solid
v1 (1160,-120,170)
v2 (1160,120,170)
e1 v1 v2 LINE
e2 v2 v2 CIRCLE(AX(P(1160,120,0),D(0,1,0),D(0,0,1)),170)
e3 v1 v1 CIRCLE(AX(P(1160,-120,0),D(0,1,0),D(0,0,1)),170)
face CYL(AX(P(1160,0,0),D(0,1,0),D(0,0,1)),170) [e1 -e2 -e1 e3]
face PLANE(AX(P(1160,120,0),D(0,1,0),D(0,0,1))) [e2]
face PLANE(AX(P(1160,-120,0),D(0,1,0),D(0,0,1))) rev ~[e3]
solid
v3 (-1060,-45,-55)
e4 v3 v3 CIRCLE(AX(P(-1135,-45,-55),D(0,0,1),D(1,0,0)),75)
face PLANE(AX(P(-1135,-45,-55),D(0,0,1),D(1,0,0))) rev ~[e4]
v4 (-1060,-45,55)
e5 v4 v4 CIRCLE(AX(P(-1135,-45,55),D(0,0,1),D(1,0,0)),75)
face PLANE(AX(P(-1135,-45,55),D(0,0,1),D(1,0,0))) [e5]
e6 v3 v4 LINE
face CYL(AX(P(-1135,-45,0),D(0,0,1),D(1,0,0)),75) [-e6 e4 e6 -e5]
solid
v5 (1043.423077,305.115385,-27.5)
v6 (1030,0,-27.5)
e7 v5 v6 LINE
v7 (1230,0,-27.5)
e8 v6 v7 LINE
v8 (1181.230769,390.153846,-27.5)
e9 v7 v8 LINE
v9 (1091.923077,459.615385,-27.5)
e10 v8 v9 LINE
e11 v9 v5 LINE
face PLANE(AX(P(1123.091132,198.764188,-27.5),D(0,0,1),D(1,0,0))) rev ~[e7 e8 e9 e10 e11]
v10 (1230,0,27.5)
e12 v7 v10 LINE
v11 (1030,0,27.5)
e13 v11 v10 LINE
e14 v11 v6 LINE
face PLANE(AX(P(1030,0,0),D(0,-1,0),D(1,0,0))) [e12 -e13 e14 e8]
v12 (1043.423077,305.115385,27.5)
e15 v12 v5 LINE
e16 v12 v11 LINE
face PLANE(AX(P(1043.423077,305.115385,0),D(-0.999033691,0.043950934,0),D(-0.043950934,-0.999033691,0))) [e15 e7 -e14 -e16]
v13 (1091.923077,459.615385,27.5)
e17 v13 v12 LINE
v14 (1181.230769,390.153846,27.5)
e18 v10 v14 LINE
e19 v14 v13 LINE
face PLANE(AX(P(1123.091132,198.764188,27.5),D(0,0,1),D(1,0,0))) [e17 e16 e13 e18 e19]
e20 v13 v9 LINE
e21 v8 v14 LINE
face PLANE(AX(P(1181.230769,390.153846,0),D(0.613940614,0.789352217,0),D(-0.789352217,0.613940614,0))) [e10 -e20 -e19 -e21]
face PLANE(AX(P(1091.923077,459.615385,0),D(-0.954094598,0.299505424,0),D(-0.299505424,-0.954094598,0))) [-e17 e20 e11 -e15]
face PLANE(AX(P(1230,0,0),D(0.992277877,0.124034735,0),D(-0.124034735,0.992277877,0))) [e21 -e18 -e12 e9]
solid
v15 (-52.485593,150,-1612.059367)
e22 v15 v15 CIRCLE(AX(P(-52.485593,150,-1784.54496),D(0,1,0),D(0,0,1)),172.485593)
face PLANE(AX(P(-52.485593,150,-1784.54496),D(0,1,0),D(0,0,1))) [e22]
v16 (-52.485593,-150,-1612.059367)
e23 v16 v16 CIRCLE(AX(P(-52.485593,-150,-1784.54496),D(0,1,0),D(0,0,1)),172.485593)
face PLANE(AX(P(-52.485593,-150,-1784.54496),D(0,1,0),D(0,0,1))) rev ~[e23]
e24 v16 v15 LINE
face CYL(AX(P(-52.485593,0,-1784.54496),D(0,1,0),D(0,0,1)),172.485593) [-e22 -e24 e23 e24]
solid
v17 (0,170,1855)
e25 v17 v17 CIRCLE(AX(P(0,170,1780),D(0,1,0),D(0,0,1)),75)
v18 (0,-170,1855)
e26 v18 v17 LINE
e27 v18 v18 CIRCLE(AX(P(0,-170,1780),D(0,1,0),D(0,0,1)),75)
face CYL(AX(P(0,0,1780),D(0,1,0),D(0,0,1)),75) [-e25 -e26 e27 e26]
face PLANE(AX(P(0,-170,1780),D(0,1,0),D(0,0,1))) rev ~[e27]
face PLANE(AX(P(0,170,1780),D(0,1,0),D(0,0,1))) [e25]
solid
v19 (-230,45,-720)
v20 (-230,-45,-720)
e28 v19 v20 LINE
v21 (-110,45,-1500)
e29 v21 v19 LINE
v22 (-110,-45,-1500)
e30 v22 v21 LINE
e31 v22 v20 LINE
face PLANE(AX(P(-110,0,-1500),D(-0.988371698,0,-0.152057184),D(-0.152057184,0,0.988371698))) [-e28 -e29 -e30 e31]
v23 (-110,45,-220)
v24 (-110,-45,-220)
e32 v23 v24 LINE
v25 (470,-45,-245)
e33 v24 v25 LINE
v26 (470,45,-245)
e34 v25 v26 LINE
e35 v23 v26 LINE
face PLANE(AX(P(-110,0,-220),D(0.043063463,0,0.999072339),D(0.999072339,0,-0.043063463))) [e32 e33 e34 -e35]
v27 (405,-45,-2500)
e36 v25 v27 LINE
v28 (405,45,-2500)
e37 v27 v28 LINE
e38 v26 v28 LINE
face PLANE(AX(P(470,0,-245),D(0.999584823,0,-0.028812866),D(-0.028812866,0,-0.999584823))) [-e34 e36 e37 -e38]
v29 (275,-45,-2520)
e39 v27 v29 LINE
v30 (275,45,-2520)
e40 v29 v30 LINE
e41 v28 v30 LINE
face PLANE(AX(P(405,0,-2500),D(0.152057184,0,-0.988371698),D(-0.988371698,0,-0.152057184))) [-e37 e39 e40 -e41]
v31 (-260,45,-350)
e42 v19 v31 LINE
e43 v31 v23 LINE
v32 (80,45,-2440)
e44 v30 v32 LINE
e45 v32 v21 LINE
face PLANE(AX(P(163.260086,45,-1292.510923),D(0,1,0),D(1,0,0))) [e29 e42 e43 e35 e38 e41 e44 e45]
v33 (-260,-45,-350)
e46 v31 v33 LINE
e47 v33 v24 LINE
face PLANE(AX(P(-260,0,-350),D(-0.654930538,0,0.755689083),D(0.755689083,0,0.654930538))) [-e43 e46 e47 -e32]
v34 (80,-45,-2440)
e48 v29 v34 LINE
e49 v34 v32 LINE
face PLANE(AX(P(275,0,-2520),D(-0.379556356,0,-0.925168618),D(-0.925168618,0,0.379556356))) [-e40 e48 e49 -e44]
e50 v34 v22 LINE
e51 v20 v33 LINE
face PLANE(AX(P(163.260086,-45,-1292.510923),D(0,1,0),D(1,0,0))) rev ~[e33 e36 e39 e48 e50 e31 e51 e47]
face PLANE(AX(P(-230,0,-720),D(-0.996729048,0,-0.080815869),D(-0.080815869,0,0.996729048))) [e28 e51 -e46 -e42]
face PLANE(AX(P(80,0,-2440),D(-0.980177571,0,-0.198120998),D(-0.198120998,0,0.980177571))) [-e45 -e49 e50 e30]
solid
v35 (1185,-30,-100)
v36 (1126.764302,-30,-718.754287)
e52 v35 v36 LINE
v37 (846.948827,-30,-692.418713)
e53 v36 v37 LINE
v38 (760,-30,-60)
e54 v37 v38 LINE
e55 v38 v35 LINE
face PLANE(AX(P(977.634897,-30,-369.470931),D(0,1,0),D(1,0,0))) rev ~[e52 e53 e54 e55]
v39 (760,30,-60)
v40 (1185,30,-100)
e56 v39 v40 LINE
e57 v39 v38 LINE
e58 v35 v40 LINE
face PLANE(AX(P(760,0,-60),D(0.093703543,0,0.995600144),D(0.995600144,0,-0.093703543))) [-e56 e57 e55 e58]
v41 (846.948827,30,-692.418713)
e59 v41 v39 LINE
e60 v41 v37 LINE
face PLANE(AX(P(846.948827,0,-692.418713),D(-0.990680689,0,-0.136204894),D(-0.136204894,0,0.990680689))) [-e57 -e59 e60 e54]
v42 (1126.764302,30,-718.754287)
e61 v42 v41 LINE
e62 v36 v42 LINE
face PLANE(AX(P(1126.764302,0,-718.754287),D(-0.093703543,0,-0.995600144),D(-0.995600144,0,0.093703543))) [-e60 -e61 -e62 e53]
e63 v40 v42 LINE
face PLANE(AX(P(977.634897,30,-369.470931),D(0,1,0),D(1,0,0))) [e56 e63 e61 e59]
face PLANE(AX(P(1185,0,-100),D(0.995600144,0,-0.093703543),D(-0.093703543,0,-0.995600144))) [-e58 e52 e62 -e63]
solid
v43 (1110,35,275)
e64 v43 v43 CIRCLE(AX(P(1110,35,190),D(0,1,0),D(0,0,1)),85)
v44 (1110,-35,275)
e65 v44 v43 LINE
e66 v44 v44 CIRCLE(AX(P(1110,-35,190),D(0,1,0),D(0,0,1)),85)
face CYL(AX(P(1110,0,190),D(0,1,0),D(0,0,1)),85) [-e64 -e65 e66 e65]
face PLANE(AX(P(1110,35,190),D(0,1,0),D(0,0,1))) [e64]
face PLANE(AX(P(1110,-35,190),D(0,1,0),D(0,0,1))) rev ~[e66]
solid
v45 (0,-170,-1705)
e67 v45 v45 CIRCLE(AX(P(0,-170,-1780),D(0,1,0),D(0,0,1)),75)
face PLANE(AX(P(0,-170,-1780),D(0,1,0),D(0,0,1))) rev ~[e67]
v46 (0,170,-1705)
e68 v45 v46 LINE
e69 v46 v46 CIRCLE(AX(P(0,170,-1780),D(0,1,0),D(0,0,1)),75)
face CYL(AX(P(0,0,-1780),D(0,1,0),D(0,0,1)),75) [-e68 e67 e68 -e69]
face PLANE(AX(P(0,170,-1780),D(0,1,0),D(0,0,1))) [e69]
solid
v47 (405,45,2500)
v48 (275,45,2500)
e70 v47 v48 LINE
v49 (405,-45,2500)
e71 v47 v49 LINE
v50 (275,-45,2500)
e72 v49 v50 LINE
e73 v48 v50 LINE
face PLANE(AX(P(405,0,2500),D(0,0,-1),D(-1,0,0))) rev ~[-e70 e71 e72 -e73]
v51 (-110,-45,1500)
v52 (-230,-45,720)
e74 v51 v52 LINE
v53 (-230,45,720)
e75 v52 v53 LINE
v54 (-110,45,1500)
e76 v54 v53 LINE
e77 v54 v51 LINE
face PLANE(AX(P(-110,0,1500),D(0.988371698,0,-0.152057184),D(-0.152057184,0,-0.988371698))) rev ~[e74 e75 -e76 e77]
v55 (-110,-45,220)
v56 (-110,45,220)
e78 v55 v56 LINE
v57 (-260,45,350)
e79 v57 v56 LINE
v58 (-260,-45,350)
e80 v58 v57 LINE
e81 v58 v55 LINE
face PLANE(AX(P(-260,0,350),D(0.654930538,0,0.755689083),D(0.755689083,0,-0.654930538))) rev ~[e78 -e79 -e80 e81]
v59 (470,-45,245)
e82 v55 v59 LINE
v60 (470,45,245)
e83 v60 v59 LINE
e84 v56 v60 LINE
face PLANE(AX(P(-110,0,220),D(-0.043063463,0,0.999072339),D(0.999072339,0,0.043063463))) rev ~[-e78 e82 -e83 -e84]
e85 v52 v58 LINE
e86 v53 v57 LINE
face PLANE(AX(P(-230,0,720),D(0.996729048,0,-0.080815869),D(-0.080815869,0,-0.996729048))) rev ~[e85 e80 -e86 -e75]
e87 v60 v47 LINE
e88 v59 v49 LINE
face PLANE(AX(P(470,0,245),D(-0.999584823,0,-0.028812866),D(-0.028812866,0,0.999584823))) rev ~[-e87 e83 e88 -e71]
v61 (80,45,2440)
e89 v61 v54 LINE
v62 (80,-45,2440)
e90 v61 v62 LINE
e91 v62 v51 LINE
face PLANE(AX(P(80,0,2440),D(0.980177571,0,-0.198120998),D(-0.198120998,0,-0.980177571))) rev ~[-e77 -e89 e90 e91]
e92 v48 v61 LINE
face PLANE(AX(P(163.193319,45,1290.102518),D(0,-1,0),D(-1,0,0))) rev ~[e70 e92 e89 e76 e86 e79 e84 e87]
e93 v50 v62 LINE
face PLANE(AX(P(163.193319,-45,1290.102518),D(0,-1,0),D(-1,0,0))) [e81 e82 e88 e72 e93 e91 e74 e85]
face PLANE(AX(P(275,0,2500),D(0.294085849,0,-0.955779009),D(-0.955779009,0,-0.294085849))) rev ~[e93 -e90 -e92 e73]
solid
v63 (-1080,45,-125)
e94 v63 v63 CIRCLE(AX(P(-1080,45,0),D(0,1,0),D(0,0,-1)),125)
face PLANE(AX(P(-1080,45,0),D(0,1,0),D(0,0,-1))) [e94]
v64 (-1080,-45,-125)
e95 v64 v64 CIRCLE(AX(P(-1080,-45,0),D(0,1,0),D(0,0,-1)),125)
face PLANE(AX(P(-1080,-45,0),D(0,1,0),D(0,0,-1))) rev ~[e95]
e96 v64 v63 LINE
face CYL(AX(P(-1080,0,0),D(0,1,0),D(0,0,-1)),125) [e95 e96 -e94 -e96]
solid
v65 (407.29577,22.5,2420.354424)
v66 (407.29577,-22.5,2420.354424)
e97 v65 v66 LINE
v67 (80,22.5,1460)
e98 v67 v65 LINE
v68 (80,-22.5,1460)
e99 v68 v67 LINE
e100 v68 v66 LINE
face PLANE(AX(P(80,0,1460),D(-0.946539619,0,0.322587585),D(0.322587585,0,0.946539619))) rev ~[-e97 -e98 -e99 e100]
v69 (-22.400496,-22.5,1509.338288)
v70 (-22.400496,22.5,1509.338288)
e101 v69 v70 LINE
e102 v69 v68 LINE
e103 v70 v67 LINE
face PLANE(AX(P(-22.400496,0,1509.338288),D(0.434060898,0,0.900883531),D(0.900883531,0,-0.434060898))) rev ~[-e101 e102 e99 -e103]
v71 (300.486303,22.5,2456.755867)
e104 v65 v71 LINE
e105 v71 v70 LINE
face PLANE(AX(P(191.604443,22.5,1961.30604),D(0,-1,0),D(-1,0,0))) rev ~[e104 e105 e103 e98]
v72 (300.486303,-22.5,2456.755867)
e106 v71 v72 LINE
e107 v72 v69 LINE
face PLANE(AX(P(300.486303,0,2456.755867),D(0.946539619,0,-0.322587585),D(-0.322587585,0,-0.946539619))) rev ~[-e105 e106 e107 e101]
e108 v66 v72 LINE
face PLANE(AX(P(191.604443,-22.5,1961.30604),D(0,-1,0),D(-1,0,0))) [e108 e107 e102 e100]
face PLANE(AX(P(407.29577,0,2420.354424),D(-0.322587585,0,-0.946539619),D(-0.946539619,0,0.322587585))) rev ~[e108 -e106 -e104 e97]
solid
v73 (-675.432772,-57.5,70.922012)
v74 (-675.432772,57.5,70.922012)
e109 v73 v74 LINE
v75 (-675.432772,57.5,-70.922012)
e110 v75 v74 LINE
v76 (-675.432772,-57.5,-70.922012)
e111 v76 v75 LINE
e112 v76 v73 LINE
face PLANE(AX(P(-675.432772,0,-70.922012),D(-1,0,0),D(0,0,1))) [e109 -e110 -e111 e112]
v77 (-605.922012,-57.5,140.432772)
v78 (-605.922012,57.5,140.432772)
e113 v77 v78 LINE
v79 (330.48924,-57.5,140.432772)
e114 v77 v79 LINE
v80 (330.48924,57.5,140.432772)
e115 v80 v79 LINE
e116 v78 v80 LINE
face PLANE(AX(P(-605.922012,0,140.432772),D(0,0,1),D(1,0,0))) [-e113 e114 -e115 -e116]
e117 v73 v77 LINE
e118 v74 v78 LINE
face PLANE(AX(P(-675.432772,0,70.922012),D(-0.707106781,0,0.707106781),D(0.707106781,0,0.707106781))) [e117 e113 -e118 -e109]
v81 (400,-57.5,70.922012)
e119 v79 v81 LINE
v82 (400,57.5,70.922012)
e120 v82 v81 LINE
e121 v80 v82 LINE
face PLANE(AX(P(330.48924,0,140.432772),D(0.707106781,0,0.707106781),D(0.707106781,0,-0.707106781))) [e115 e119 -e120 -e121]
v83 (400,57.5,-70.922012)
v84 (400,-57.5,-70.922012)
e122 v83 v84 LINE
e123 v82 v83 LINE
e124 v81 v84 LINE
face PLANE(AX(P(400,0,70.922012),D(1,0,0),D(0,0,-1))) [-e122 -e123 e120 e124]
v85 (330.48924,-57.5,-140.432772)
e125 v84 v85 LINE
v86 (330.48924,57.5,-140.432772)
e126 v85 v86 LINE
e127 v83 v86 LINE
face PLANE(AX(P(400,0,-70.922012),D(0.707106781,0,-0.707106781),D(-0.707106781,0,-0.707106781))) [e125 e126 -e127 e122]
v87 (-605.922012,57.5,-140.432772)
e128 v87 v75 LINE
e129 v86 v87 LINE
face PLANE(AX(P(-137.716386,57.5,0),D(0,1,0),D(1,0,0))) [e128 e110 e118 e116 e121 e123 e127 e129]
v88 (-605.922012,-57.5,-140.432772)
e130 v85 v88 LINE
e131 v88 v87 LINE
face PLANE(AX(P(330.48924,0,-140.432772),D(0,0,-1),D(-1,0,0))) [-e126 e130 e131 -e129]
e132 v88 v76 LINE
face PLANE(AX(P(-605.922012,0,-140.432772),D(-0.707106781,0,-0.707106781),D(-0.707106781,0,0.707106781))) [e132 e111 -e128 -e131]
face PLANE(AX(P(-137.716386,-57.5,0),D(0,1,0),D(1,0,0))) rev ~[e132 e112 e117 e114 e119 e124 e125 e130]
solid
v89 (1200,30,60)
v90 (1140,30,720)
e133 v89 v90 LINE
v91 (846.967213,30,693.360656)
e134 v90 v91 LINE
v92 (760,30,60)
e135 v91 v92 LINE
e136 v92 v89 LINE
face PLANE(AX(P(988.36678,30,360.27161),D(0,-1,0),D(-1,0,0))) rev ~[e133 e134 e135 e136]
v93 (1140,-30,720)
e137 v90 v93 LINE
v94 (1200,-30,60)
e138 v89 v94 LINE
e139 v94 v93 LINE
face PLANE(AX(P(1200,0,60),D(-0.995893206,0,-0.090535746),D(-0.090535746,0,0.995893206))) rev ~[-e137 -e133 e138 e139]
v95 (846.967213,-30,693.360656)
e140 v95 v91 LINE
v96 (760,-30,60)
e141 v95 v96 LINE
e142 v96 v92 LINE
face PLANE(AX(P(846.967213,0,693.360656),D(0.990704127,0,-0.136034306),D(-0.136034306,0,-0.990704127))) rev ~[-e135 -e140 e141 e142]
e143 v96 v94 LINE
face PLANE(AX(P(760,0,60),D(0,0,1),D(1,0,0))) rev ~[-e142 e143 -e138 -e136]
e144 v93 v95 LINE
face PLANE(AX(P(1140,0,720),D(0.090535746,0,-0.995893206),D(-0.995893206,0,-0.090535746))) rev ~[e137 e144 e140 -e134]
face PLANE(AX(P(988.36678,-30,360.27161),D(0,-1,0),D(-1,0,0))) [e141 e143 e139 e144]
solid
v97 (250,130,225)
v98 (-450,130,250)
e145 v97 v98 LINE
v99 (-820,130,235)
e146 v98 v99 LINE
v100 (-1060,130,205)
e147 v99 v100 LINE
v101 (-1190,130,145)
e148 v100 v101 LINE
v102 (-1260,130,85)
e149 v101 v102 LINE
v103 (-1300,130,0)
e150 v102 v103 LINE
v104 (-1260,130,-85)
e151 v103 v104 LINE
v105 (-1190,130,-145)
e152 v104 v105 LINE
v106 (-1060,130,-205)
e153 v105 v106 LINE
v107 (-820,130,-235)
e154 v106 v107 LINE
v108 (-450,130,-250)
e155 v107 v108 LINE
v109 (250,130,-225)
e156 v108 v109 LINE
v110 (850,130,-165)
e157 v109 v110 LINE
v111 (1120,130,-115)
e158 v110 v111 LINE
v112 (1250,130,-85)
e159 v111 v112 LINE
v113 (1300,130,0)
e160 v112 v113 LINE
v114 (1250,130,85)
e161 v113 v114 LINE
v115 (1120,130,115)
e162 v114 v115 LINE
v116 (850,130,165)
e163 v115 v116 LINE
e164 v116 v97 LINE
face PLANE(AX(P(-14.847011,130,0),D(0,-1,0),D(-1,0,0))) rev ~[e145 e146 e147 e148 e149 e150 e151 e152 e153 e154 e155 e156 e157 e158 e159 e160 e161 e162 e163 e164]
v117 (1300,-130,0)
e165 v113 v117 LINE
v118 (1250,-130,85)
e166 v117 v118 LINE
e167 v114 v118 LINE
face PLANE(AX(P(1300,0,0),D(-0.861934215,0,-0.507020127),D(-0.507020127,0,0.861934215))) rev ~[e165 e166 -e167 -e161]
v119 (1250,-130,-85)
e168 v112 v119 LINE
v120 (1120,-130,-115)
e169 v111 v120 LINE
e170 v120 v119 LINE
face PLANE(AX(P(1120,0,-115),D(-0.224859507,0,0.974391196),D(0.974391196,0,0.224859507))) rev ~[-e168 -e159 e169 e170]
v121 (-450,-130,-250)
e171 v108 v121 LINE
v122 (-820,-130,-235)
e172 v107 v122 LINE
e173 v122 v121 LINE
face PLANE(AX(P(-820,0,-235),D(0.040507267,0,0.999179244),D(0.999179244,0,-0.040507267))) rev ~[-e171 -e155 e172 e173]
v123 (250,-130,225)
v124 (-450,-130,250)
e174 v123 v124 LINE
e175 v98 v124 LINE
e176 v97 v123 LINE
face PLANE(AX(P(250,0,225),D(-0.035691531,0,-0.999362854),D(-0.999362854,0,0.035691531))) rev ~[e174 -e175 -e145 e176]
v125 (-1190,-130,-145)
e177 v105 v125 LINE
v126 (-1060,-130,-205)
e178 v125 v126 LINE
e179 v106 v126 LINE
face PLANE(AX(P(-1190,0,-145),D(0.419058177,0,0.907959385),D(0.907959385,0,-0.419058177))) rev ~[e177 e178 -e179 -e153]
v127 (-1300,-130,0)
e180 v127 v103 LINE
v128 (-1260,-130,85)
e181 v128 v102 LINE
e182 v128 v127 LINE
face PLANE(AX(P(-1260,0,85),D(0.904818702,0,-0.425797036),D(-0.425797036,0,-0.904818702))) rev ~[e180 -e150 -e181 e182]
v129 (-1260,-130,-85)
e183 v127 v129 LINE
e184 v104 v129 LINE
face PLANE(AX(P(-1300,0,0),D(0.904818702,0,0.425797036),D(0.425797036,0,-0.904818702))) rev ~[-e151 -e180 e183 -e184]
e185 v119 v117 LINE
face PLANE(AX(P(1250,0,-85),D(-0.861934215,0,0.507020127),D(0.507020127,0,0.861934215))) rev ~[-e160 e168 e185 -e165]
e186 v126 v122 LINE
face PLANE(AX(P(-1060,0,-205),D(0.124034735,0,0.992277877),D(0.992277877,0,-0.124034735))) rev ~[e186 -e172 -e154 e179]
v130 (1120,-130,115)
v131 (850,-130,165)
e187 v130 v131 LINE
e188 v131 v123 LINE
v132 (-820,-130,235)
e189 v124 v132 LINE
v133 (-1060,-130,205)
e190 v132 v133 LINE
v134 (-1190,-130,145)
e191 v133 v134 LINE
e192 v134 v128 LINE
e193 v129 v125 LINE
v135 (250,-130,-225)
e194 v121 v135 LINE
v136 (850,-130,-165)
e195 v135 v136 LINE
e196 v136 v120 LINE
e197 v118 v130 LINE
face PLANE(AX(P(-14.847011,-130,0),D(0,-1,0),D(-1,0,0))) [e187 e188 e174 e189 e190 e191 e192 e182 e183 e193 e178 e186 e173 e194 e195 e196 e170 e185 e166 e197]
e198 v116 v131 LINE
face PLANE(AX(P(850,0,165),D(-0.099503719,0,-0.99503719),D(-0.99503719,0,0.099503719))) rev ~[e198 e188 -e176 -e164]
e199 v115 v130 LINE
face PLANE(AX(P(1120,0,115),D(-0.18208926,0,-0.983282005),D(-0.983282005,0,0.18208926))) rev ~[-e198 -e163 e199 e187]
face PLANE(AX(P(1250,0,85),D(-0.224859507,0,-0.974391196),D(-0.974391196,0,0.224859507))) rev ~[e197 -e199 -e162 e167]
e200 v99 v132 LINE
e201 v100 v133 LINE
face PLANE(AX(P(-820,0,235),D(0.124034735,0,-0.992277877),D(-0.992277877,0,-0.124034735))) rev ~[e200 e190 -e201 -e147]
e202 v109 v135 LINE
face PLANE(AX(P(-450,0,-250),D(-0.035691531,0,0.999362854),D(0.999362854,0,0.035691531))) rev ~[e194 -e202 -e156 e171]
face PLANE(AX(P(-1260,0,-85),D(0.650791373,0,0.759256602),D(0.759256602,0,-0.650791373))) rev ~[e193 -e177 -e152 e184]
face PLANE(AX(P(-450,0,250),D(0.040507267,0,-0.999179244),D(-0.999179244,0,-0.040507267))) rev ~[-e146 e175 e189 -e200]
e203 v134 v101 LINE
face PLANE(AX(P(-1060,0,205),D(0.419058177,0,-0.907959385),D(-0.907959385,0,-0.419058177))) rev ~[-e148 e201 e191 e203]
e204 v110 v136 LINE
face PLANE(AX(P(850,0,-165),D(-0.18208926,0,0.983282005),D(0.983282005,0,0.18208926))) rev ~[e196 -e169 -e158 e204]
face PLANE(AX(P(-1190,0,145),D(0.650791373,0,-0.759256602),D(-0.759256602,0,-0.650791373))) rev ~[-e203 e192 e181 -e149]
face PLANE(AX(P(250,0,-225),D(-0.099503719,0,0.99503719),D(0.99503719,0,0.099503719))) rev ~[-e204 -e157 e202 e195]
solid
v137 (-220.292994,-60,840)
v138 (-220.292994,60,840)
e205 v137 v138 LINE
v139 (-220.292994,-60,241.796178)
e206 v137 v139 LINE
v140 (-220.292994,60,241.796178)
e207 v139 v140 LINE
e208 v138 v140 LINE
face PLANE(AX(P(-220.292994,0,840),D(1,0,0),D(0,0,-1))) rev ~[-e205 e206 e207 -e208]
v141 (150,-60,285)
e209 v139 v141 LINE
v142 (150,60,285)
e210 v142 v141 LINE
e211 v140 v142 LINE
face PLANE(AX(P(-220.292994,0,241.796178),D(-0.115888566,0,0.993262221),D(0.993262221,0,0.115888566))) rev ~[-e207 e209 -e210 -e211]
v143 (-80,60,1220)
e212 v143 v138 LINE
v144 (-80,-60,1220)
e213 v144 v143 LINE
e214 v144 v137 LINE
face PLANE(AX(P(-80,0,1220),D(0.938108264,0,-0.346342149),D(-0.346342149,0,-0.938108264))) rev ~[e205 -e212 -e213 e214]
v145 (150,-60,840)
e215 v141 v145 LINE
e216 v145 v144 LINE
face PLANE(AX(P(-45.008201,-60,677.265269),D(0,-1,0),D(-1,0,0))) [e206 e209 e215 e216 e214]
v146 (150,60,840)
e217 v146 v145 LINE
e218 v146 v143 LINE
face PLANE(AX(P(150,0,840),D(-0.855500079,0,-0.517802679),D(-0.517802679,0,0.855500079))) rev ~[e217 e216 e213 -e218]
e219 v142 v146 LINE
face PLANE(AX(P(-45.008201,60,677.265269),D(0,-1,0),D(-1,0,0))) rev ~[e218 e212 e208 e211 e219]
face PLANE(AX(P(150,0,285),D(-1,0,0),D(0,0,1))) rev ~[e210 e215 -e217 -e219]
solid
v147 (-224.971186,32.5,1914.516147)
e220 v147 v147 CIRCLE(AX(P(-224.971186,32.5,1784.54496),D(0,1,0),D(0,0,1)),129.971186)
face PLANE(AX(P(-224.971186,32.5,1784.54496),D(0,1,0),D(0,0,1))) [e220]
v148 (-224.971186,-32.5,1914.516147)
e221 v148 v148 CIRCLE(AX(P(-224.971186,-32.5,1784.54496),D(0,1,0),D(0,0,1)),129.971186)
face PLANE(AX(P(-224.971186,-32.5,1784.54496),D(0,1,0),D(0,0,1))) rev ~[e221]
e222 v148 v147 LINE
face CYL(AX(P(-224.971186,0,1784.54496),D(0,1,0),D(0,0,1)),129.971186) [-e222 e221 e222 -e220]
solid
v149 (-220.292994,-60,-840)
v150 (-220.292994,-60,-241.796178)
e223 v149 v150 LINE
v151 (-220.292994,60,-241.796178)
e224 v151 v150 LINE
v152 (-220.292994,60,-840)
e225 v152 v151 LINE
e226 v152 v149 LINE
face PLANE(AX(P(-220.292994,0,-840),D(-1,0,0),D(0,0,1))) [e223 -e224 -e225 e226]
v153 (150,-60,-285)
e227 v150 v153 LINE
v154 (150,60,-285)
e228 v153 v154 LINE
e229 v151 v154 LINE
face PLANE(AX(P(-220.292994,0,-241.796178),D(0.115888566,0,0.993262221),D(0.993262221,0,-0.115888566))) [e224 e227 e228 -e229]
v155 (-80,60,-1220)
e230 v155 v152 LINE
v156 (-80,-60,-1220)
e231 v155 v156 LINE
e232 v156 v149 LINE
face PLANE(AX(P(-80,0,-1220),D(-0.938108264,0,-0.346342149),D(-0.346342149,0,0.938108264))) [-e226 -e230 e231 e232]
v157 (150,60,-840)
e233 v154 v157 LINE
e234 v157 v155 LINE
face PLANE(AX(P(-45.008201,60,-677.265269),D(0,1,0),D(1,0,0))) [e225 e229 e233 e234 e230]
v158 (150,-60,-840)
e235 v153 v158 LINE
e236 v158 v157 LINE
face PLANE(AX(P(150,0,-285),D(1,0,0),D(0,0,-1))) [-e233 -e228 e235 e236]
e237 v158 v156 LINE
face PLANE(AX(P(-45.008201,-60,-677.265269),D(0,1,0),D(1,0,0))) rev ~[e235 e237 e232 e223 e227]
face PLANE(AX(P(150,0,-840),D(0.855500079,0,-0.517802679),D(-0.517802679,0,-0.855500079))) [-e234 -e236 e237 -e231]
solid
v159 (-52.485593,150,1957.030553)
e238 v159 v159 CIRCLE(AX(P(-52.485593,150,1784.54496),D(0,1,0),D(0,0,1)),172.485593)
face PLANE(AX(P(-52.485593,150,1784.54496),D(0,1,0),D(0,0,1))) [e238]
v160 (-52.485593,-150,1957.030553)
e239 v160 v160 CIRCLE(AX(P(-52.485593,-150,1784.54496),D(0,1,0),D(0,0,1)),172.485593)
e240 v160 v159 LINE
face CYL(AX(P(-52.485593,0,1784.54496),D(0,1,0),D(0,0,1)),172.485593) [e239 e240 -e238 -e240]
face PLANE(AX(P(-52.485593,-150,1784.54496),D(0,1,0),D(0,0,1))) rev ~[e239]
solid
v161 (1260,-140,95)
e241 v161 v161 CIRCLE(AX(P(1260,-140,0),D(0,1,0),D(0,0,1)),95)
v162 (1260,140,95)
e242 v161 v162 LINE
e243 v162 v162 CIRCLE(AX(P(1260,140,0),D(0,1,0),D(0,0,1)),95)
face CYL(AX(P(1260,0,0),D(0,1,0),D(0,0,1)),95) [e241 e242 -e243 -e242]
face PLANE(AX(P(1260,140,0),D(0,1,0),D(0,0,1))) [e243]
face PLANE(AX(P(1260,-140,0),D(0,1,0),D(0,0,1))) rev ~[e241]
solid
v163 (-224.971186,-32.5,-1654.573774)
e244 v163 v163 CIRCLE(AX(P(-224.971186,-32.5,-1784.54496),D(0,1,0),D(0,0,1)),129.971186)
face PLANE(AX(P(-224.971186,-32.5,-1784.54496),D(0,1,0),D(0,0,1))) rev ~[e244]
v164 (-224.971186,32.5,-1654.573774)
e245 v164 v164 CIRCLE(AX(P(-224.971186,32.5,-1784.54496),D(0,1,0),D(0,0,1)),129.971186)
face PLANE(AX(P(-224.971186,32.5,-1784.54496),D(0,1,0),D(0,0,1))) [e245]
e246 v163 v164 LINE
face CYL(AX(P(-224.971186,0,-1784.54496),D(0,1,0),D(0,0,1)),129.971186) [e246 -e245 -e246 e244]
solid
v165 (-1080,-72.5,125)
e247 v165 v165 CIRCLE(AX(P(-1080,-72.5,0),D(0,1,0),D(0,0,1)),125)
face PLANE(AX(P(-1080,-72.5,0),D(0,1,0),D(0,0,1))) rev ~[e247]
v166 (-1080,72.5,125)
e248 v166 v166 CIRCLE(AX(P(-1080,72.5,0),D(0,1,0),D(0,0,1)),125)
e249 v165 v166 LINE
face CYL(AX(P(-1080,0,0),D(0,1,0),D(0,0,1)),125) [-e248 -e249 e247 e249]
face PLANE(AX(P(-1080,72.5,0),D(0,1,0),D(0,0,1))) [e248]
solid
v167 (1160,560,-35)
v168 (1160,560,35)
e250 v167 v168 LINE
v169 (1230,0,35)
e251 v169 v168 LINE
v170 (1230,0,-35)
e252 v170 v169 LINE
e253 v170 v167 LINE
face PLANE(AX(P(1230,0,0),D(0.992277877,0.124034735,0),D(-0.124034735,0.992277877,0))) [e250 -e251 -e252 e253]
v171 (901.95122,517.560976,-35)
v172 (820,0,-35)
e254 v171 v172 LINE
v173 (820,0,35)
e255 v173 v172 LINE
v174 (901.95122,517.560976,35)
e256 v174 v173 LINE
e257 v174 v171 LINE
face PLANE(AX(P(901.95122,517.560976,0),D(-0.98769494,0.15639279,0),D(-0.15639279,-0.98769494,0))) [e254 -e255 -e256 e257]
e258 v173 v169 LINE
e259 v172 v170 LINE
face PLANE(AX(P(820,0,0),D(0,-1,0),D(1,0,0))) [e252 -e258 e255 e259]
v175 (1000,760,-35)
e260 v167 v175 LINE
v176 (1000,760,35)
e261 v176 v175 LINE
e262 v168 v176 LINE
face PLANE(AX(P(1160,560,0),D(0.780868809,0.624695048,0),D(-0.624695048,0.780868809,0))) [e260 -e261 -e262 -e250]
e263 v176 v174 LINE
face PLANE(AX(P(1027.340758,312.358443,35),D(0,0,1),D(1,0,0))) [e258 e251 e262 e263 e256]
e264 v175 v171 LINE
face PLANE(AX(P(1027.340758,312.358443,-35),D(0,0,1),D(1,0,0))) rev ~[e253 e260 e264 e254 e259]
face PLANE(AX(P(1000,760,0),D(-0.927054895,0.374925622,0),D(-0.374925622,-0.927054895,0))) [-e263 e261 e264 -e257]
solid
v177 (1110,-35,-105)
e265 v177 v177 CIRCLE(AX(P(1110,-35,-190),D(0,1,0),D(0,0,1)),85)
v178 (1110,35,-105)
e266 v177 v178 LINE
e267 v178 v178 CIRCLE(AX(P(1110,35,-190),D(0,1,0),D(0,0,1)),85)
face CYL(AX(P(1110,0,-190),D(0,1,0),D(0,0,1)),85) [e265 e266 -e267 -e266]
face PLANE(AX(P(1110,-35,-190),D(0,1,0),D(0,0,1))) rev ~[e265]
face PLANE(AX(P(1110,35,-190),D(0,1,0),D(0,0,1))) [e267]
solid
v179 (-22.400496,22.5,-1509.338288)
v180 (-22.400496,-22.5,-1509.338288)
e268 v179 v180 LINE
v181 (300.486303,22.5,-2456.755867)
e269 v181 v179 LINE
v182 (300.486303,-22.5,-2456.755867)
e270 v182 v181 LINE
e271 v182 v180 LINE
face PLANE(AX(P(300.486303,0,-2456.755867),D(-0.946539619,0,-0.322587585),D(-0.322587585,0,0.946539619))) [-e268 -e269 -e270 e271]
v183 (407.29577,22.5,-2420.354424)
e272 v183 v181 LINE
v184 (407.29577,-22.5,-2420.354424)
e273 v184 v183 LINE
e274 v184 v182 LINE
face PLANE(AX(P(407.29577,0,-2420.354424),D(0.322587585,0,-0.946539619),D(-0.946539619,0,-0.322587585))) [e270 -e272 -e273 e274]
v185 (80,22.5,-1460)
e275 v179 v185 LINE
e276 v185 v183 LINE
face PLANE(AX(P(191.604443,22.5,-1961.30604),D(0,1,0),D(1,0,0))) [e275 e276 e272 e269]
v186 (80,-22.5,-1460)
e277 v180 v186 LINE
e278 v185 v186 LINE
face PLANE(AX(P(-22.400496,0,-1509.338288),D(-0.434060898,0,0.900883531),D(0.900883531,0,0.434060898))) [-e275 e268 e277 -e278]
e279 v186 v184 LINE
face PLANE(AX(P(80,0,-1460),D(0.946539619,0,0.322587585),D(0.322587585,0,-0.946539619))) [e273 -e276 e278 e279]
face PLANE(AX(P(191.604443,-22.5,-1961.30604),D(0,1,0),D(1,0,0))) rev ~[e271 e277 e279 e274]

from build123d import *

# Parameters (mm, degrees)
BOSS_EXTRUDE1_DEPTH  = 130
BOSS_EXTRUDE2_DEPTH  = 57.5
SKETCH3_R            = 125
BOSS_EXTRUDE3_DEPTH  = 72.5
BOSS_EXTRUDE4_DEPTH  = 45
BOSS_EXTRUDE5_DEPTH  = 45
BOSS_EXTRUDE6_DEPTH  = 60
BOSS_EXTRUDE7_DEPTH  = 22.5
BOSS_EXTRUDE8_DEPTH  = 60
BOSS_EXTRUDE9_DEPTH  = 22.5
BOSS_EXTRUDE10_DEPTH = 30
BOSS_EXTRUDE11_DEPTH = 30
BOSS_EXTRUDE12_DEPTH = 35
BOSS_EXTRUDE13_DEPTH = 27.5
SKETCH14_R           = 172.485593128
BOSS_EXTRUDE14_DEPTH = 150
SKETCH15_R           = 172.485593128
BOSS_EXTRUDE15_DEPTH = 150
SKETCH16_R           = 170
BOSS_EXTRUDE16_DEPTH = 120
SKETCH17_R           = 75
BOSS_EXTRUDE17_DEPTH = 170
SKETCH18_R           = 75
BOSS_EXTRUDE18_DEPTH = 170
SKETCH19_R           = 95
BOSS_EXTRUDE19_DEPTH = 140
SKETCH20_R           = 129.971186256
BOSS_EXTRUDE20_DEPTH = 32.5
SKETCH21_R           = 85
BOSS_EXTRUDE21_DEPTH = 35
SKETCH22_R           = 129.971186256
BOSS_EXTRUDE22_DEPTH = 32.5
SKETCH23_R           = 85
BOSS_EXTRUDE23_DEPTH = 35
SKETCH24_R           = 125
BOSS_EXTRUDE24_DEPTH = 45
SKETCH25_R           = 75
BOSS_EXTRUDE25_DEPTH = 55


with BuildPart() as part:
    # Sketch1 → Boss-Extrude1 (new, symmetric)
    with BuildSketch(Plane(origin=(0, 0, 0), x_dir=(1, 0, 0), z_dir=(0, 1, 0))):
        Polygon((-1300, 0), (-1260, 85), (-1190, 145), (-1060, 205), (-820, 235), (-450, 250), (250, 225), (850, 165), (1120, 115), (1250, 85), (1300, 0), (1250, -85), (1120, -115), (850, -165), (250, -225), (-450, -250), (-820, -235), (-1060, -205), (-1190, -145), (-1260, -85), align=None)
    extrude(amount=BOSS_EXTRUDE1_DEPTH, both=True)


with BuildPart() as body_2:
    # Sketch2 → Boss-Extrude2 (new, symmetric)
    with BuildSketch(Plane(origin=(0, 0, 0), x_dir=(1, 0, 0), z_dir=(0, 1, 0))):
        Polygon((400, 25), (400, 70.922011884), (362.961005942, 107.961005942), (330.489239933, 140.432771951), (280, 140.432771951), (-560, 140.432771951), (-605.922011884, 140.432771951), (-638.393777893, 107.961005942), (-675.432771951, 70.922011884), (-675.432771951, 25), (-675.432771951, -25), (-675.432771951, -70.922011884), (-638.393777893, -107.961005942), (-605.922011884, -140.432771951), (-560, -140.432771951), (280, -140.432771951), (330.489239933, -140.432771951), (362.961005942, -107.961005942), (400, -70.922011884), (400, -25), align=None)
    extrude(amount=BOSS_EXTRUDE2_DEPTH, both=True)


with BuildPart() as body_3:
    # Sketch3 → Boss-Extrude3 (new, symmetric)
    with BuildSketch(Plane(origin=(0, 0, 0), x_dir=(1, 0, 0), z_dir=(0, 1, 0))):
        with Locations(Location((-1080, 0, 0), (0, 0, 270))):
            Circle(SKETCH3_R)
    extrude(amount=BOSS_EXTRUDE3_DEPTH, both=True)


with BuildPart() as body_4:
    # Sketch4 → Boss-Extrude4 (new, symmetric)
    with BuildSketch(Plane(origin=(0, 0, 0), x_dir=(1, 0, 0), z_dir=(0, 1, 0))):
        Polygon((-110, 220), (470, 245), (405, 2500), (275, 2520), (80, 2440), (-110, 1500), (-230, 720), (-260, 350), align=None)
    extrude(amount=BOSS_EXTRUDE4_DEPTH, both=True)


with BuildPart() as body_5:
    # Sketch5 → Boss-Extrude5 (new, symmetric)
    with BuildSketch(Plane(origin=(0, 0, 0), x_dir=(1, 0, 0), z_dir=(0, 1, 0))):
        Polygon((-110, -220), (470, -245), (405, -2500), (275, -2500), (80, -2440), (-110, -1500), (-230, -720), (-260, -350), align=None)
    extrude(amount=BOSS_EXTRUDE5_DEPTH, both=True)


with BuildPart() as body_6:
    # Sketch6 → Boss-Extrude6 (new, symmetric)
    with BuildSketch(Plane(origin=(0, 0, 0), x_dir=(1, 0, 0), z_dir=(0, 1, 0))):
        Polygon((-220.292993631, 241.796178344), (150, 285), (150, 840), (-80, 1220), (-220.292993631, 840), align=None)
    extrude(amount=BOSS_EXTRUDE6_DEPTH, both=True)


with BuildPart() as body_7:
    # Sketch7 → Boss-Extrude7 (new, symmetric)
    with BuildSketch(Plane(origin=(0, 0, 0), x_dir=(1, 0, 0), z_dir=(0, 1, 0))):
        Polygon((80, 1460), (407.295770497, 2420.35442354), (300.486303062, 2456.755866677), (-22.400496489, 1509.338288439), align=None)
    extrude(amount=BOSS_EXTRUDE7_DEPTH, both=True)


with BuildPart() as body_8:
    # Sketch8 → Boss-Extrude8 (new, symmetric)
    with BuildSketch(Plane(origin=(0, 0, 0), x_dir=(1, 0, 0), z_dir=(0, 1, 0))):
        Polygon((-220.292993631, -241.796178344), (150, -285), (150, -840), (-80, -1220), (-220.292993631, -840), align=None)
    extrude(amount=BOSS_EXTRUDE8_DEPTH, both=True)


with BuildPart() as body_9:
    # Sketch9 → Boss-Extrude9 (new, symmetric)
    with BuildSketch(Plane(origin=(0, 0, 0), x_dir=(1, 0, 0), z_dir=(0, 1, 0))):
        Polygon((80, -1460), (407.295770497, -2420.35442354), (300.486303062, -2456.755866677), (-22.400496489, -1509.338288439), align=None)
    extrude(amount=BOSS_EXTRUDE9_DEPTH, both=True)


with BuildPart() as body_10:
    # Sketch10 → Boss-Extrude10 (new, symmetric)
    with BuildSketch(Plane(origin=(0, 0, 0), x_dir=(1, 0, 0), z_dir=(0, 1, 0))):
        Polygon((760, 60), (1185, 100), (1126.764302373, 718.754287282), (846.948827, 692.418713129), align=None)
    extrude(amount=BOSS_EXTRUDE10_DEPTH, both=True)


with BuildPart() as body_11:
    # Sketch11 → Boss-Extrude11 (new, symmetric)
    with BuildSketch(Plane(origin=(0, 0, 0), x_dir=(1, 0, 0), z_dir=(0, 1, 0))):
        Polygon((760, -60), (1200, -60), (1140, -720), (846.967213115, -693.360655738), align=None)
    extrude(amount=BOSS_EXTRUDE11_DEPTH, both=True)


with BuildPart() as body_12:
    # Sketch12 → Boss-Extrude12 (new, symmetric)
    with BuildSketch(Plane.XY):
        Polygon((820, 0), (1230, 0), (1160, 560), (1000, 760), (901.951219512, 517.56097561), align=None)
    extrude(amount=BOSS_EXTRUDE12_DEPTH, both=True)


with BuildPart() as body_13:
    # Sketch13 → Boss-Extrude13 (new, symmetric)
    with BuildSketch(Plane.XY):
        Polygon((1030, 0), (1230, 0), (1181.230769231, 390.153846154), (1091.923076923, 459.615384615), (1043.423076923, 305.115384615), align=None)
    extrude(amount=BOSS_EXTRUDE13_DEPTH, both=True)


with BuildPart() as body_14:
    # Sketch14 → Boss-Extrude14 (new, symmetric)
    with BuildSketch(Plane(origin=(0, 0, 0), x_dir=(1, 0, 0), z_dir=(0, 1, 0))):
        with Locations(Location((-52.485593128, 1784.544960313, 0), (0, 0, 270))):
            Circle(SKETCH14_R)
    extrude(amount=BOSS_EXTRUDE14_DEPTH, both=True)


with BuildPart() as body_15:
    # Sketch15 → Boss-Extrude15 (new, symmetric)
    with BuildSketch(Plane(origin=(0, 0, 0), x_dir=(1, 0, 0), z_dir=(0, 1, 0))):
        with Locations(Location((-52.485593128, -1784.544960313, 0), (0, 0, 270))):
            Circle(SKETCH15_R)
    extrude(amount=BOSS_EXTRUDE15_DEPTH, both=True)


with BuildPart() as body_16:
    # Sketch16 → Boss-Extrude16 (new, symmetric)
    with BuildSketch(Plane(origin=(0, 0, 0), x_dir=(1, 0, 0), z_dir=(0, 1, 0))):
        with Locations(Location((1160, 0, 0), (0, 0, 270))):
            Circle(SKETCH16_R)
    extrude(amount=BOSS_EXTRUDE16_DEPTH, both=True)


with BuildPart() as body_17:
    # Sketch17 → Boss-Extrude17 (new, symmetric)
    with BuildSketch(Plane(origin=(0, 0, 0), x_dir=(1, 0, 0), z_dir=(0, 1, 0))):
        with Locations(Location((0, 1780, 0), (0, 0, 270))):
            Circle(SKETCH17_R)
    extrude(amount=BOSS_EXTRUDE17_DEPTH, both=True)


with BuildPart() as body_18:
    # Sketch18 → Boss-Extrude18 (new, symmetric)
    with BuildSketch(Plane(origin=(0, 0, 0), x_dir=(1, 0, 0), z_dir=(0, 1, 0))):
        with Locations(Location((0, -1780, 0), (0, 0, 270))):
            Circle(SKETCH18_R)
    extrude(amount=BOSS_EXTRUDE18_DEPTH, both=True)


with BuildPart() as body_19:
    # Sketch19 → Boss-Extrude19 (new, symmetric)
    with BuildSketch(Plane(origin=(0, 0, 0), x_dir=(1, 0, 0), z_dir=(0, 1, 0))):
        with Locations(Location((1260, 0, 0), (0, 0, 270))):
            Circle(SKETCH19_R)
    extrude(amount=BOSS_EXTRUDE19_DEPTH, both=True)


with BuildPart() as body_20:
    # Sketch20 → Boss-Extrude20 (new, symmetric)
    with BuildSketch(Plane(origin=(0, 0, 0), x_dir=(1, 0, 0), z_dir=(0, 1, 0))):
        with Locations(Location((-224.971186256, 1784.544960313, 0), (0, 0, 270))):
            Circle(SKETCH20_R)
    extrude(amount=BOSS_EXTRUDE20_DEPTH, both=True)


with BuildPart() as body_21:
    # Sketch21 → Boss-Extrude21 (new, symmetric)
    with BuildSketch(Plane(origin=(0, 0, 0), x_dir=(1, 0, 0), z_dir=(0, 1, 0))):
        with Locations(Location((1110, 190, 0), (0, 0, 270))):
            Circle(SKETCH21_R)
    extrude(amount=BOSS_EXTRUDE21_DEPTH, both=True)


with BuildPart() as body_22:
    # Sketch22 → Boss-Extrude22 (new, symmetric)
    with BuildSketch(Plane(origin=(0, 0, 0), x_dir=(1, 0, 0), z_dir=(0, 1, 0))):
        with Locations(Location((-224.971186256, -1784.544960313, 0), (0, 0, 270))):
            Circle(SKETCH22_R)
    extrude(amount=BOSS_EXTRUDE22_DEPTH, both=True)


with BuildPart() as body_23:
    # Sketch23 → Boss-Extrude23 (new, symmetric)
    with BuildSketch(Plane(origin=(0, 0, 0), x_dir=(1, 0, 0), z_dir=(0, 1, 0))):
        with Locations(Location((1110, -190, 0), (0, 0, 270))):
            Circle(SKETCH23_R)
    extrude(amount=BOSS_EXTRUDE23_DEPTH, both=True)


with BuildPart() as body_24:
    # Sketch24 → Boss-Extrude24 (new, symmetric)
    with BuildSketch(Plane(origin=(0, 0, 0), x_dir=(1, 0, 0), z_dir=(0, 1, 0))):
        with Locations(Location((-1080, 0, 0), (0, 0, 90))):
            Circle(SKETCH24_R)
    extrude(amount=BOSS_EXTRUDE24_DEPTH, both=True)


with BuildPart() as body_25:
    # Sketch25 → Boss-Extrude25 (new, symmetric)
    with BuildSketch(Plane.XY):
        with Locations((-1135, -45)):
            Circle(SKETCH25_R)
    extrude(amount=BOSS_EXTRUDE25_DEPTH, both=True)


solid = Compound([part.part, body_2.part, body_3.part, body_4.part, body_5.part, body_6.part, body_7.part, body_8.part, body_9.part, body_10.part, body_11.part, body_12.part, body_13.part, body_14.part, body_15.part, body_16.part, body_17.part, body_18.part, body_19.part, body_20.part, body_21.part, body_22.part, body_23.part, body_24.part, body_25.part])
